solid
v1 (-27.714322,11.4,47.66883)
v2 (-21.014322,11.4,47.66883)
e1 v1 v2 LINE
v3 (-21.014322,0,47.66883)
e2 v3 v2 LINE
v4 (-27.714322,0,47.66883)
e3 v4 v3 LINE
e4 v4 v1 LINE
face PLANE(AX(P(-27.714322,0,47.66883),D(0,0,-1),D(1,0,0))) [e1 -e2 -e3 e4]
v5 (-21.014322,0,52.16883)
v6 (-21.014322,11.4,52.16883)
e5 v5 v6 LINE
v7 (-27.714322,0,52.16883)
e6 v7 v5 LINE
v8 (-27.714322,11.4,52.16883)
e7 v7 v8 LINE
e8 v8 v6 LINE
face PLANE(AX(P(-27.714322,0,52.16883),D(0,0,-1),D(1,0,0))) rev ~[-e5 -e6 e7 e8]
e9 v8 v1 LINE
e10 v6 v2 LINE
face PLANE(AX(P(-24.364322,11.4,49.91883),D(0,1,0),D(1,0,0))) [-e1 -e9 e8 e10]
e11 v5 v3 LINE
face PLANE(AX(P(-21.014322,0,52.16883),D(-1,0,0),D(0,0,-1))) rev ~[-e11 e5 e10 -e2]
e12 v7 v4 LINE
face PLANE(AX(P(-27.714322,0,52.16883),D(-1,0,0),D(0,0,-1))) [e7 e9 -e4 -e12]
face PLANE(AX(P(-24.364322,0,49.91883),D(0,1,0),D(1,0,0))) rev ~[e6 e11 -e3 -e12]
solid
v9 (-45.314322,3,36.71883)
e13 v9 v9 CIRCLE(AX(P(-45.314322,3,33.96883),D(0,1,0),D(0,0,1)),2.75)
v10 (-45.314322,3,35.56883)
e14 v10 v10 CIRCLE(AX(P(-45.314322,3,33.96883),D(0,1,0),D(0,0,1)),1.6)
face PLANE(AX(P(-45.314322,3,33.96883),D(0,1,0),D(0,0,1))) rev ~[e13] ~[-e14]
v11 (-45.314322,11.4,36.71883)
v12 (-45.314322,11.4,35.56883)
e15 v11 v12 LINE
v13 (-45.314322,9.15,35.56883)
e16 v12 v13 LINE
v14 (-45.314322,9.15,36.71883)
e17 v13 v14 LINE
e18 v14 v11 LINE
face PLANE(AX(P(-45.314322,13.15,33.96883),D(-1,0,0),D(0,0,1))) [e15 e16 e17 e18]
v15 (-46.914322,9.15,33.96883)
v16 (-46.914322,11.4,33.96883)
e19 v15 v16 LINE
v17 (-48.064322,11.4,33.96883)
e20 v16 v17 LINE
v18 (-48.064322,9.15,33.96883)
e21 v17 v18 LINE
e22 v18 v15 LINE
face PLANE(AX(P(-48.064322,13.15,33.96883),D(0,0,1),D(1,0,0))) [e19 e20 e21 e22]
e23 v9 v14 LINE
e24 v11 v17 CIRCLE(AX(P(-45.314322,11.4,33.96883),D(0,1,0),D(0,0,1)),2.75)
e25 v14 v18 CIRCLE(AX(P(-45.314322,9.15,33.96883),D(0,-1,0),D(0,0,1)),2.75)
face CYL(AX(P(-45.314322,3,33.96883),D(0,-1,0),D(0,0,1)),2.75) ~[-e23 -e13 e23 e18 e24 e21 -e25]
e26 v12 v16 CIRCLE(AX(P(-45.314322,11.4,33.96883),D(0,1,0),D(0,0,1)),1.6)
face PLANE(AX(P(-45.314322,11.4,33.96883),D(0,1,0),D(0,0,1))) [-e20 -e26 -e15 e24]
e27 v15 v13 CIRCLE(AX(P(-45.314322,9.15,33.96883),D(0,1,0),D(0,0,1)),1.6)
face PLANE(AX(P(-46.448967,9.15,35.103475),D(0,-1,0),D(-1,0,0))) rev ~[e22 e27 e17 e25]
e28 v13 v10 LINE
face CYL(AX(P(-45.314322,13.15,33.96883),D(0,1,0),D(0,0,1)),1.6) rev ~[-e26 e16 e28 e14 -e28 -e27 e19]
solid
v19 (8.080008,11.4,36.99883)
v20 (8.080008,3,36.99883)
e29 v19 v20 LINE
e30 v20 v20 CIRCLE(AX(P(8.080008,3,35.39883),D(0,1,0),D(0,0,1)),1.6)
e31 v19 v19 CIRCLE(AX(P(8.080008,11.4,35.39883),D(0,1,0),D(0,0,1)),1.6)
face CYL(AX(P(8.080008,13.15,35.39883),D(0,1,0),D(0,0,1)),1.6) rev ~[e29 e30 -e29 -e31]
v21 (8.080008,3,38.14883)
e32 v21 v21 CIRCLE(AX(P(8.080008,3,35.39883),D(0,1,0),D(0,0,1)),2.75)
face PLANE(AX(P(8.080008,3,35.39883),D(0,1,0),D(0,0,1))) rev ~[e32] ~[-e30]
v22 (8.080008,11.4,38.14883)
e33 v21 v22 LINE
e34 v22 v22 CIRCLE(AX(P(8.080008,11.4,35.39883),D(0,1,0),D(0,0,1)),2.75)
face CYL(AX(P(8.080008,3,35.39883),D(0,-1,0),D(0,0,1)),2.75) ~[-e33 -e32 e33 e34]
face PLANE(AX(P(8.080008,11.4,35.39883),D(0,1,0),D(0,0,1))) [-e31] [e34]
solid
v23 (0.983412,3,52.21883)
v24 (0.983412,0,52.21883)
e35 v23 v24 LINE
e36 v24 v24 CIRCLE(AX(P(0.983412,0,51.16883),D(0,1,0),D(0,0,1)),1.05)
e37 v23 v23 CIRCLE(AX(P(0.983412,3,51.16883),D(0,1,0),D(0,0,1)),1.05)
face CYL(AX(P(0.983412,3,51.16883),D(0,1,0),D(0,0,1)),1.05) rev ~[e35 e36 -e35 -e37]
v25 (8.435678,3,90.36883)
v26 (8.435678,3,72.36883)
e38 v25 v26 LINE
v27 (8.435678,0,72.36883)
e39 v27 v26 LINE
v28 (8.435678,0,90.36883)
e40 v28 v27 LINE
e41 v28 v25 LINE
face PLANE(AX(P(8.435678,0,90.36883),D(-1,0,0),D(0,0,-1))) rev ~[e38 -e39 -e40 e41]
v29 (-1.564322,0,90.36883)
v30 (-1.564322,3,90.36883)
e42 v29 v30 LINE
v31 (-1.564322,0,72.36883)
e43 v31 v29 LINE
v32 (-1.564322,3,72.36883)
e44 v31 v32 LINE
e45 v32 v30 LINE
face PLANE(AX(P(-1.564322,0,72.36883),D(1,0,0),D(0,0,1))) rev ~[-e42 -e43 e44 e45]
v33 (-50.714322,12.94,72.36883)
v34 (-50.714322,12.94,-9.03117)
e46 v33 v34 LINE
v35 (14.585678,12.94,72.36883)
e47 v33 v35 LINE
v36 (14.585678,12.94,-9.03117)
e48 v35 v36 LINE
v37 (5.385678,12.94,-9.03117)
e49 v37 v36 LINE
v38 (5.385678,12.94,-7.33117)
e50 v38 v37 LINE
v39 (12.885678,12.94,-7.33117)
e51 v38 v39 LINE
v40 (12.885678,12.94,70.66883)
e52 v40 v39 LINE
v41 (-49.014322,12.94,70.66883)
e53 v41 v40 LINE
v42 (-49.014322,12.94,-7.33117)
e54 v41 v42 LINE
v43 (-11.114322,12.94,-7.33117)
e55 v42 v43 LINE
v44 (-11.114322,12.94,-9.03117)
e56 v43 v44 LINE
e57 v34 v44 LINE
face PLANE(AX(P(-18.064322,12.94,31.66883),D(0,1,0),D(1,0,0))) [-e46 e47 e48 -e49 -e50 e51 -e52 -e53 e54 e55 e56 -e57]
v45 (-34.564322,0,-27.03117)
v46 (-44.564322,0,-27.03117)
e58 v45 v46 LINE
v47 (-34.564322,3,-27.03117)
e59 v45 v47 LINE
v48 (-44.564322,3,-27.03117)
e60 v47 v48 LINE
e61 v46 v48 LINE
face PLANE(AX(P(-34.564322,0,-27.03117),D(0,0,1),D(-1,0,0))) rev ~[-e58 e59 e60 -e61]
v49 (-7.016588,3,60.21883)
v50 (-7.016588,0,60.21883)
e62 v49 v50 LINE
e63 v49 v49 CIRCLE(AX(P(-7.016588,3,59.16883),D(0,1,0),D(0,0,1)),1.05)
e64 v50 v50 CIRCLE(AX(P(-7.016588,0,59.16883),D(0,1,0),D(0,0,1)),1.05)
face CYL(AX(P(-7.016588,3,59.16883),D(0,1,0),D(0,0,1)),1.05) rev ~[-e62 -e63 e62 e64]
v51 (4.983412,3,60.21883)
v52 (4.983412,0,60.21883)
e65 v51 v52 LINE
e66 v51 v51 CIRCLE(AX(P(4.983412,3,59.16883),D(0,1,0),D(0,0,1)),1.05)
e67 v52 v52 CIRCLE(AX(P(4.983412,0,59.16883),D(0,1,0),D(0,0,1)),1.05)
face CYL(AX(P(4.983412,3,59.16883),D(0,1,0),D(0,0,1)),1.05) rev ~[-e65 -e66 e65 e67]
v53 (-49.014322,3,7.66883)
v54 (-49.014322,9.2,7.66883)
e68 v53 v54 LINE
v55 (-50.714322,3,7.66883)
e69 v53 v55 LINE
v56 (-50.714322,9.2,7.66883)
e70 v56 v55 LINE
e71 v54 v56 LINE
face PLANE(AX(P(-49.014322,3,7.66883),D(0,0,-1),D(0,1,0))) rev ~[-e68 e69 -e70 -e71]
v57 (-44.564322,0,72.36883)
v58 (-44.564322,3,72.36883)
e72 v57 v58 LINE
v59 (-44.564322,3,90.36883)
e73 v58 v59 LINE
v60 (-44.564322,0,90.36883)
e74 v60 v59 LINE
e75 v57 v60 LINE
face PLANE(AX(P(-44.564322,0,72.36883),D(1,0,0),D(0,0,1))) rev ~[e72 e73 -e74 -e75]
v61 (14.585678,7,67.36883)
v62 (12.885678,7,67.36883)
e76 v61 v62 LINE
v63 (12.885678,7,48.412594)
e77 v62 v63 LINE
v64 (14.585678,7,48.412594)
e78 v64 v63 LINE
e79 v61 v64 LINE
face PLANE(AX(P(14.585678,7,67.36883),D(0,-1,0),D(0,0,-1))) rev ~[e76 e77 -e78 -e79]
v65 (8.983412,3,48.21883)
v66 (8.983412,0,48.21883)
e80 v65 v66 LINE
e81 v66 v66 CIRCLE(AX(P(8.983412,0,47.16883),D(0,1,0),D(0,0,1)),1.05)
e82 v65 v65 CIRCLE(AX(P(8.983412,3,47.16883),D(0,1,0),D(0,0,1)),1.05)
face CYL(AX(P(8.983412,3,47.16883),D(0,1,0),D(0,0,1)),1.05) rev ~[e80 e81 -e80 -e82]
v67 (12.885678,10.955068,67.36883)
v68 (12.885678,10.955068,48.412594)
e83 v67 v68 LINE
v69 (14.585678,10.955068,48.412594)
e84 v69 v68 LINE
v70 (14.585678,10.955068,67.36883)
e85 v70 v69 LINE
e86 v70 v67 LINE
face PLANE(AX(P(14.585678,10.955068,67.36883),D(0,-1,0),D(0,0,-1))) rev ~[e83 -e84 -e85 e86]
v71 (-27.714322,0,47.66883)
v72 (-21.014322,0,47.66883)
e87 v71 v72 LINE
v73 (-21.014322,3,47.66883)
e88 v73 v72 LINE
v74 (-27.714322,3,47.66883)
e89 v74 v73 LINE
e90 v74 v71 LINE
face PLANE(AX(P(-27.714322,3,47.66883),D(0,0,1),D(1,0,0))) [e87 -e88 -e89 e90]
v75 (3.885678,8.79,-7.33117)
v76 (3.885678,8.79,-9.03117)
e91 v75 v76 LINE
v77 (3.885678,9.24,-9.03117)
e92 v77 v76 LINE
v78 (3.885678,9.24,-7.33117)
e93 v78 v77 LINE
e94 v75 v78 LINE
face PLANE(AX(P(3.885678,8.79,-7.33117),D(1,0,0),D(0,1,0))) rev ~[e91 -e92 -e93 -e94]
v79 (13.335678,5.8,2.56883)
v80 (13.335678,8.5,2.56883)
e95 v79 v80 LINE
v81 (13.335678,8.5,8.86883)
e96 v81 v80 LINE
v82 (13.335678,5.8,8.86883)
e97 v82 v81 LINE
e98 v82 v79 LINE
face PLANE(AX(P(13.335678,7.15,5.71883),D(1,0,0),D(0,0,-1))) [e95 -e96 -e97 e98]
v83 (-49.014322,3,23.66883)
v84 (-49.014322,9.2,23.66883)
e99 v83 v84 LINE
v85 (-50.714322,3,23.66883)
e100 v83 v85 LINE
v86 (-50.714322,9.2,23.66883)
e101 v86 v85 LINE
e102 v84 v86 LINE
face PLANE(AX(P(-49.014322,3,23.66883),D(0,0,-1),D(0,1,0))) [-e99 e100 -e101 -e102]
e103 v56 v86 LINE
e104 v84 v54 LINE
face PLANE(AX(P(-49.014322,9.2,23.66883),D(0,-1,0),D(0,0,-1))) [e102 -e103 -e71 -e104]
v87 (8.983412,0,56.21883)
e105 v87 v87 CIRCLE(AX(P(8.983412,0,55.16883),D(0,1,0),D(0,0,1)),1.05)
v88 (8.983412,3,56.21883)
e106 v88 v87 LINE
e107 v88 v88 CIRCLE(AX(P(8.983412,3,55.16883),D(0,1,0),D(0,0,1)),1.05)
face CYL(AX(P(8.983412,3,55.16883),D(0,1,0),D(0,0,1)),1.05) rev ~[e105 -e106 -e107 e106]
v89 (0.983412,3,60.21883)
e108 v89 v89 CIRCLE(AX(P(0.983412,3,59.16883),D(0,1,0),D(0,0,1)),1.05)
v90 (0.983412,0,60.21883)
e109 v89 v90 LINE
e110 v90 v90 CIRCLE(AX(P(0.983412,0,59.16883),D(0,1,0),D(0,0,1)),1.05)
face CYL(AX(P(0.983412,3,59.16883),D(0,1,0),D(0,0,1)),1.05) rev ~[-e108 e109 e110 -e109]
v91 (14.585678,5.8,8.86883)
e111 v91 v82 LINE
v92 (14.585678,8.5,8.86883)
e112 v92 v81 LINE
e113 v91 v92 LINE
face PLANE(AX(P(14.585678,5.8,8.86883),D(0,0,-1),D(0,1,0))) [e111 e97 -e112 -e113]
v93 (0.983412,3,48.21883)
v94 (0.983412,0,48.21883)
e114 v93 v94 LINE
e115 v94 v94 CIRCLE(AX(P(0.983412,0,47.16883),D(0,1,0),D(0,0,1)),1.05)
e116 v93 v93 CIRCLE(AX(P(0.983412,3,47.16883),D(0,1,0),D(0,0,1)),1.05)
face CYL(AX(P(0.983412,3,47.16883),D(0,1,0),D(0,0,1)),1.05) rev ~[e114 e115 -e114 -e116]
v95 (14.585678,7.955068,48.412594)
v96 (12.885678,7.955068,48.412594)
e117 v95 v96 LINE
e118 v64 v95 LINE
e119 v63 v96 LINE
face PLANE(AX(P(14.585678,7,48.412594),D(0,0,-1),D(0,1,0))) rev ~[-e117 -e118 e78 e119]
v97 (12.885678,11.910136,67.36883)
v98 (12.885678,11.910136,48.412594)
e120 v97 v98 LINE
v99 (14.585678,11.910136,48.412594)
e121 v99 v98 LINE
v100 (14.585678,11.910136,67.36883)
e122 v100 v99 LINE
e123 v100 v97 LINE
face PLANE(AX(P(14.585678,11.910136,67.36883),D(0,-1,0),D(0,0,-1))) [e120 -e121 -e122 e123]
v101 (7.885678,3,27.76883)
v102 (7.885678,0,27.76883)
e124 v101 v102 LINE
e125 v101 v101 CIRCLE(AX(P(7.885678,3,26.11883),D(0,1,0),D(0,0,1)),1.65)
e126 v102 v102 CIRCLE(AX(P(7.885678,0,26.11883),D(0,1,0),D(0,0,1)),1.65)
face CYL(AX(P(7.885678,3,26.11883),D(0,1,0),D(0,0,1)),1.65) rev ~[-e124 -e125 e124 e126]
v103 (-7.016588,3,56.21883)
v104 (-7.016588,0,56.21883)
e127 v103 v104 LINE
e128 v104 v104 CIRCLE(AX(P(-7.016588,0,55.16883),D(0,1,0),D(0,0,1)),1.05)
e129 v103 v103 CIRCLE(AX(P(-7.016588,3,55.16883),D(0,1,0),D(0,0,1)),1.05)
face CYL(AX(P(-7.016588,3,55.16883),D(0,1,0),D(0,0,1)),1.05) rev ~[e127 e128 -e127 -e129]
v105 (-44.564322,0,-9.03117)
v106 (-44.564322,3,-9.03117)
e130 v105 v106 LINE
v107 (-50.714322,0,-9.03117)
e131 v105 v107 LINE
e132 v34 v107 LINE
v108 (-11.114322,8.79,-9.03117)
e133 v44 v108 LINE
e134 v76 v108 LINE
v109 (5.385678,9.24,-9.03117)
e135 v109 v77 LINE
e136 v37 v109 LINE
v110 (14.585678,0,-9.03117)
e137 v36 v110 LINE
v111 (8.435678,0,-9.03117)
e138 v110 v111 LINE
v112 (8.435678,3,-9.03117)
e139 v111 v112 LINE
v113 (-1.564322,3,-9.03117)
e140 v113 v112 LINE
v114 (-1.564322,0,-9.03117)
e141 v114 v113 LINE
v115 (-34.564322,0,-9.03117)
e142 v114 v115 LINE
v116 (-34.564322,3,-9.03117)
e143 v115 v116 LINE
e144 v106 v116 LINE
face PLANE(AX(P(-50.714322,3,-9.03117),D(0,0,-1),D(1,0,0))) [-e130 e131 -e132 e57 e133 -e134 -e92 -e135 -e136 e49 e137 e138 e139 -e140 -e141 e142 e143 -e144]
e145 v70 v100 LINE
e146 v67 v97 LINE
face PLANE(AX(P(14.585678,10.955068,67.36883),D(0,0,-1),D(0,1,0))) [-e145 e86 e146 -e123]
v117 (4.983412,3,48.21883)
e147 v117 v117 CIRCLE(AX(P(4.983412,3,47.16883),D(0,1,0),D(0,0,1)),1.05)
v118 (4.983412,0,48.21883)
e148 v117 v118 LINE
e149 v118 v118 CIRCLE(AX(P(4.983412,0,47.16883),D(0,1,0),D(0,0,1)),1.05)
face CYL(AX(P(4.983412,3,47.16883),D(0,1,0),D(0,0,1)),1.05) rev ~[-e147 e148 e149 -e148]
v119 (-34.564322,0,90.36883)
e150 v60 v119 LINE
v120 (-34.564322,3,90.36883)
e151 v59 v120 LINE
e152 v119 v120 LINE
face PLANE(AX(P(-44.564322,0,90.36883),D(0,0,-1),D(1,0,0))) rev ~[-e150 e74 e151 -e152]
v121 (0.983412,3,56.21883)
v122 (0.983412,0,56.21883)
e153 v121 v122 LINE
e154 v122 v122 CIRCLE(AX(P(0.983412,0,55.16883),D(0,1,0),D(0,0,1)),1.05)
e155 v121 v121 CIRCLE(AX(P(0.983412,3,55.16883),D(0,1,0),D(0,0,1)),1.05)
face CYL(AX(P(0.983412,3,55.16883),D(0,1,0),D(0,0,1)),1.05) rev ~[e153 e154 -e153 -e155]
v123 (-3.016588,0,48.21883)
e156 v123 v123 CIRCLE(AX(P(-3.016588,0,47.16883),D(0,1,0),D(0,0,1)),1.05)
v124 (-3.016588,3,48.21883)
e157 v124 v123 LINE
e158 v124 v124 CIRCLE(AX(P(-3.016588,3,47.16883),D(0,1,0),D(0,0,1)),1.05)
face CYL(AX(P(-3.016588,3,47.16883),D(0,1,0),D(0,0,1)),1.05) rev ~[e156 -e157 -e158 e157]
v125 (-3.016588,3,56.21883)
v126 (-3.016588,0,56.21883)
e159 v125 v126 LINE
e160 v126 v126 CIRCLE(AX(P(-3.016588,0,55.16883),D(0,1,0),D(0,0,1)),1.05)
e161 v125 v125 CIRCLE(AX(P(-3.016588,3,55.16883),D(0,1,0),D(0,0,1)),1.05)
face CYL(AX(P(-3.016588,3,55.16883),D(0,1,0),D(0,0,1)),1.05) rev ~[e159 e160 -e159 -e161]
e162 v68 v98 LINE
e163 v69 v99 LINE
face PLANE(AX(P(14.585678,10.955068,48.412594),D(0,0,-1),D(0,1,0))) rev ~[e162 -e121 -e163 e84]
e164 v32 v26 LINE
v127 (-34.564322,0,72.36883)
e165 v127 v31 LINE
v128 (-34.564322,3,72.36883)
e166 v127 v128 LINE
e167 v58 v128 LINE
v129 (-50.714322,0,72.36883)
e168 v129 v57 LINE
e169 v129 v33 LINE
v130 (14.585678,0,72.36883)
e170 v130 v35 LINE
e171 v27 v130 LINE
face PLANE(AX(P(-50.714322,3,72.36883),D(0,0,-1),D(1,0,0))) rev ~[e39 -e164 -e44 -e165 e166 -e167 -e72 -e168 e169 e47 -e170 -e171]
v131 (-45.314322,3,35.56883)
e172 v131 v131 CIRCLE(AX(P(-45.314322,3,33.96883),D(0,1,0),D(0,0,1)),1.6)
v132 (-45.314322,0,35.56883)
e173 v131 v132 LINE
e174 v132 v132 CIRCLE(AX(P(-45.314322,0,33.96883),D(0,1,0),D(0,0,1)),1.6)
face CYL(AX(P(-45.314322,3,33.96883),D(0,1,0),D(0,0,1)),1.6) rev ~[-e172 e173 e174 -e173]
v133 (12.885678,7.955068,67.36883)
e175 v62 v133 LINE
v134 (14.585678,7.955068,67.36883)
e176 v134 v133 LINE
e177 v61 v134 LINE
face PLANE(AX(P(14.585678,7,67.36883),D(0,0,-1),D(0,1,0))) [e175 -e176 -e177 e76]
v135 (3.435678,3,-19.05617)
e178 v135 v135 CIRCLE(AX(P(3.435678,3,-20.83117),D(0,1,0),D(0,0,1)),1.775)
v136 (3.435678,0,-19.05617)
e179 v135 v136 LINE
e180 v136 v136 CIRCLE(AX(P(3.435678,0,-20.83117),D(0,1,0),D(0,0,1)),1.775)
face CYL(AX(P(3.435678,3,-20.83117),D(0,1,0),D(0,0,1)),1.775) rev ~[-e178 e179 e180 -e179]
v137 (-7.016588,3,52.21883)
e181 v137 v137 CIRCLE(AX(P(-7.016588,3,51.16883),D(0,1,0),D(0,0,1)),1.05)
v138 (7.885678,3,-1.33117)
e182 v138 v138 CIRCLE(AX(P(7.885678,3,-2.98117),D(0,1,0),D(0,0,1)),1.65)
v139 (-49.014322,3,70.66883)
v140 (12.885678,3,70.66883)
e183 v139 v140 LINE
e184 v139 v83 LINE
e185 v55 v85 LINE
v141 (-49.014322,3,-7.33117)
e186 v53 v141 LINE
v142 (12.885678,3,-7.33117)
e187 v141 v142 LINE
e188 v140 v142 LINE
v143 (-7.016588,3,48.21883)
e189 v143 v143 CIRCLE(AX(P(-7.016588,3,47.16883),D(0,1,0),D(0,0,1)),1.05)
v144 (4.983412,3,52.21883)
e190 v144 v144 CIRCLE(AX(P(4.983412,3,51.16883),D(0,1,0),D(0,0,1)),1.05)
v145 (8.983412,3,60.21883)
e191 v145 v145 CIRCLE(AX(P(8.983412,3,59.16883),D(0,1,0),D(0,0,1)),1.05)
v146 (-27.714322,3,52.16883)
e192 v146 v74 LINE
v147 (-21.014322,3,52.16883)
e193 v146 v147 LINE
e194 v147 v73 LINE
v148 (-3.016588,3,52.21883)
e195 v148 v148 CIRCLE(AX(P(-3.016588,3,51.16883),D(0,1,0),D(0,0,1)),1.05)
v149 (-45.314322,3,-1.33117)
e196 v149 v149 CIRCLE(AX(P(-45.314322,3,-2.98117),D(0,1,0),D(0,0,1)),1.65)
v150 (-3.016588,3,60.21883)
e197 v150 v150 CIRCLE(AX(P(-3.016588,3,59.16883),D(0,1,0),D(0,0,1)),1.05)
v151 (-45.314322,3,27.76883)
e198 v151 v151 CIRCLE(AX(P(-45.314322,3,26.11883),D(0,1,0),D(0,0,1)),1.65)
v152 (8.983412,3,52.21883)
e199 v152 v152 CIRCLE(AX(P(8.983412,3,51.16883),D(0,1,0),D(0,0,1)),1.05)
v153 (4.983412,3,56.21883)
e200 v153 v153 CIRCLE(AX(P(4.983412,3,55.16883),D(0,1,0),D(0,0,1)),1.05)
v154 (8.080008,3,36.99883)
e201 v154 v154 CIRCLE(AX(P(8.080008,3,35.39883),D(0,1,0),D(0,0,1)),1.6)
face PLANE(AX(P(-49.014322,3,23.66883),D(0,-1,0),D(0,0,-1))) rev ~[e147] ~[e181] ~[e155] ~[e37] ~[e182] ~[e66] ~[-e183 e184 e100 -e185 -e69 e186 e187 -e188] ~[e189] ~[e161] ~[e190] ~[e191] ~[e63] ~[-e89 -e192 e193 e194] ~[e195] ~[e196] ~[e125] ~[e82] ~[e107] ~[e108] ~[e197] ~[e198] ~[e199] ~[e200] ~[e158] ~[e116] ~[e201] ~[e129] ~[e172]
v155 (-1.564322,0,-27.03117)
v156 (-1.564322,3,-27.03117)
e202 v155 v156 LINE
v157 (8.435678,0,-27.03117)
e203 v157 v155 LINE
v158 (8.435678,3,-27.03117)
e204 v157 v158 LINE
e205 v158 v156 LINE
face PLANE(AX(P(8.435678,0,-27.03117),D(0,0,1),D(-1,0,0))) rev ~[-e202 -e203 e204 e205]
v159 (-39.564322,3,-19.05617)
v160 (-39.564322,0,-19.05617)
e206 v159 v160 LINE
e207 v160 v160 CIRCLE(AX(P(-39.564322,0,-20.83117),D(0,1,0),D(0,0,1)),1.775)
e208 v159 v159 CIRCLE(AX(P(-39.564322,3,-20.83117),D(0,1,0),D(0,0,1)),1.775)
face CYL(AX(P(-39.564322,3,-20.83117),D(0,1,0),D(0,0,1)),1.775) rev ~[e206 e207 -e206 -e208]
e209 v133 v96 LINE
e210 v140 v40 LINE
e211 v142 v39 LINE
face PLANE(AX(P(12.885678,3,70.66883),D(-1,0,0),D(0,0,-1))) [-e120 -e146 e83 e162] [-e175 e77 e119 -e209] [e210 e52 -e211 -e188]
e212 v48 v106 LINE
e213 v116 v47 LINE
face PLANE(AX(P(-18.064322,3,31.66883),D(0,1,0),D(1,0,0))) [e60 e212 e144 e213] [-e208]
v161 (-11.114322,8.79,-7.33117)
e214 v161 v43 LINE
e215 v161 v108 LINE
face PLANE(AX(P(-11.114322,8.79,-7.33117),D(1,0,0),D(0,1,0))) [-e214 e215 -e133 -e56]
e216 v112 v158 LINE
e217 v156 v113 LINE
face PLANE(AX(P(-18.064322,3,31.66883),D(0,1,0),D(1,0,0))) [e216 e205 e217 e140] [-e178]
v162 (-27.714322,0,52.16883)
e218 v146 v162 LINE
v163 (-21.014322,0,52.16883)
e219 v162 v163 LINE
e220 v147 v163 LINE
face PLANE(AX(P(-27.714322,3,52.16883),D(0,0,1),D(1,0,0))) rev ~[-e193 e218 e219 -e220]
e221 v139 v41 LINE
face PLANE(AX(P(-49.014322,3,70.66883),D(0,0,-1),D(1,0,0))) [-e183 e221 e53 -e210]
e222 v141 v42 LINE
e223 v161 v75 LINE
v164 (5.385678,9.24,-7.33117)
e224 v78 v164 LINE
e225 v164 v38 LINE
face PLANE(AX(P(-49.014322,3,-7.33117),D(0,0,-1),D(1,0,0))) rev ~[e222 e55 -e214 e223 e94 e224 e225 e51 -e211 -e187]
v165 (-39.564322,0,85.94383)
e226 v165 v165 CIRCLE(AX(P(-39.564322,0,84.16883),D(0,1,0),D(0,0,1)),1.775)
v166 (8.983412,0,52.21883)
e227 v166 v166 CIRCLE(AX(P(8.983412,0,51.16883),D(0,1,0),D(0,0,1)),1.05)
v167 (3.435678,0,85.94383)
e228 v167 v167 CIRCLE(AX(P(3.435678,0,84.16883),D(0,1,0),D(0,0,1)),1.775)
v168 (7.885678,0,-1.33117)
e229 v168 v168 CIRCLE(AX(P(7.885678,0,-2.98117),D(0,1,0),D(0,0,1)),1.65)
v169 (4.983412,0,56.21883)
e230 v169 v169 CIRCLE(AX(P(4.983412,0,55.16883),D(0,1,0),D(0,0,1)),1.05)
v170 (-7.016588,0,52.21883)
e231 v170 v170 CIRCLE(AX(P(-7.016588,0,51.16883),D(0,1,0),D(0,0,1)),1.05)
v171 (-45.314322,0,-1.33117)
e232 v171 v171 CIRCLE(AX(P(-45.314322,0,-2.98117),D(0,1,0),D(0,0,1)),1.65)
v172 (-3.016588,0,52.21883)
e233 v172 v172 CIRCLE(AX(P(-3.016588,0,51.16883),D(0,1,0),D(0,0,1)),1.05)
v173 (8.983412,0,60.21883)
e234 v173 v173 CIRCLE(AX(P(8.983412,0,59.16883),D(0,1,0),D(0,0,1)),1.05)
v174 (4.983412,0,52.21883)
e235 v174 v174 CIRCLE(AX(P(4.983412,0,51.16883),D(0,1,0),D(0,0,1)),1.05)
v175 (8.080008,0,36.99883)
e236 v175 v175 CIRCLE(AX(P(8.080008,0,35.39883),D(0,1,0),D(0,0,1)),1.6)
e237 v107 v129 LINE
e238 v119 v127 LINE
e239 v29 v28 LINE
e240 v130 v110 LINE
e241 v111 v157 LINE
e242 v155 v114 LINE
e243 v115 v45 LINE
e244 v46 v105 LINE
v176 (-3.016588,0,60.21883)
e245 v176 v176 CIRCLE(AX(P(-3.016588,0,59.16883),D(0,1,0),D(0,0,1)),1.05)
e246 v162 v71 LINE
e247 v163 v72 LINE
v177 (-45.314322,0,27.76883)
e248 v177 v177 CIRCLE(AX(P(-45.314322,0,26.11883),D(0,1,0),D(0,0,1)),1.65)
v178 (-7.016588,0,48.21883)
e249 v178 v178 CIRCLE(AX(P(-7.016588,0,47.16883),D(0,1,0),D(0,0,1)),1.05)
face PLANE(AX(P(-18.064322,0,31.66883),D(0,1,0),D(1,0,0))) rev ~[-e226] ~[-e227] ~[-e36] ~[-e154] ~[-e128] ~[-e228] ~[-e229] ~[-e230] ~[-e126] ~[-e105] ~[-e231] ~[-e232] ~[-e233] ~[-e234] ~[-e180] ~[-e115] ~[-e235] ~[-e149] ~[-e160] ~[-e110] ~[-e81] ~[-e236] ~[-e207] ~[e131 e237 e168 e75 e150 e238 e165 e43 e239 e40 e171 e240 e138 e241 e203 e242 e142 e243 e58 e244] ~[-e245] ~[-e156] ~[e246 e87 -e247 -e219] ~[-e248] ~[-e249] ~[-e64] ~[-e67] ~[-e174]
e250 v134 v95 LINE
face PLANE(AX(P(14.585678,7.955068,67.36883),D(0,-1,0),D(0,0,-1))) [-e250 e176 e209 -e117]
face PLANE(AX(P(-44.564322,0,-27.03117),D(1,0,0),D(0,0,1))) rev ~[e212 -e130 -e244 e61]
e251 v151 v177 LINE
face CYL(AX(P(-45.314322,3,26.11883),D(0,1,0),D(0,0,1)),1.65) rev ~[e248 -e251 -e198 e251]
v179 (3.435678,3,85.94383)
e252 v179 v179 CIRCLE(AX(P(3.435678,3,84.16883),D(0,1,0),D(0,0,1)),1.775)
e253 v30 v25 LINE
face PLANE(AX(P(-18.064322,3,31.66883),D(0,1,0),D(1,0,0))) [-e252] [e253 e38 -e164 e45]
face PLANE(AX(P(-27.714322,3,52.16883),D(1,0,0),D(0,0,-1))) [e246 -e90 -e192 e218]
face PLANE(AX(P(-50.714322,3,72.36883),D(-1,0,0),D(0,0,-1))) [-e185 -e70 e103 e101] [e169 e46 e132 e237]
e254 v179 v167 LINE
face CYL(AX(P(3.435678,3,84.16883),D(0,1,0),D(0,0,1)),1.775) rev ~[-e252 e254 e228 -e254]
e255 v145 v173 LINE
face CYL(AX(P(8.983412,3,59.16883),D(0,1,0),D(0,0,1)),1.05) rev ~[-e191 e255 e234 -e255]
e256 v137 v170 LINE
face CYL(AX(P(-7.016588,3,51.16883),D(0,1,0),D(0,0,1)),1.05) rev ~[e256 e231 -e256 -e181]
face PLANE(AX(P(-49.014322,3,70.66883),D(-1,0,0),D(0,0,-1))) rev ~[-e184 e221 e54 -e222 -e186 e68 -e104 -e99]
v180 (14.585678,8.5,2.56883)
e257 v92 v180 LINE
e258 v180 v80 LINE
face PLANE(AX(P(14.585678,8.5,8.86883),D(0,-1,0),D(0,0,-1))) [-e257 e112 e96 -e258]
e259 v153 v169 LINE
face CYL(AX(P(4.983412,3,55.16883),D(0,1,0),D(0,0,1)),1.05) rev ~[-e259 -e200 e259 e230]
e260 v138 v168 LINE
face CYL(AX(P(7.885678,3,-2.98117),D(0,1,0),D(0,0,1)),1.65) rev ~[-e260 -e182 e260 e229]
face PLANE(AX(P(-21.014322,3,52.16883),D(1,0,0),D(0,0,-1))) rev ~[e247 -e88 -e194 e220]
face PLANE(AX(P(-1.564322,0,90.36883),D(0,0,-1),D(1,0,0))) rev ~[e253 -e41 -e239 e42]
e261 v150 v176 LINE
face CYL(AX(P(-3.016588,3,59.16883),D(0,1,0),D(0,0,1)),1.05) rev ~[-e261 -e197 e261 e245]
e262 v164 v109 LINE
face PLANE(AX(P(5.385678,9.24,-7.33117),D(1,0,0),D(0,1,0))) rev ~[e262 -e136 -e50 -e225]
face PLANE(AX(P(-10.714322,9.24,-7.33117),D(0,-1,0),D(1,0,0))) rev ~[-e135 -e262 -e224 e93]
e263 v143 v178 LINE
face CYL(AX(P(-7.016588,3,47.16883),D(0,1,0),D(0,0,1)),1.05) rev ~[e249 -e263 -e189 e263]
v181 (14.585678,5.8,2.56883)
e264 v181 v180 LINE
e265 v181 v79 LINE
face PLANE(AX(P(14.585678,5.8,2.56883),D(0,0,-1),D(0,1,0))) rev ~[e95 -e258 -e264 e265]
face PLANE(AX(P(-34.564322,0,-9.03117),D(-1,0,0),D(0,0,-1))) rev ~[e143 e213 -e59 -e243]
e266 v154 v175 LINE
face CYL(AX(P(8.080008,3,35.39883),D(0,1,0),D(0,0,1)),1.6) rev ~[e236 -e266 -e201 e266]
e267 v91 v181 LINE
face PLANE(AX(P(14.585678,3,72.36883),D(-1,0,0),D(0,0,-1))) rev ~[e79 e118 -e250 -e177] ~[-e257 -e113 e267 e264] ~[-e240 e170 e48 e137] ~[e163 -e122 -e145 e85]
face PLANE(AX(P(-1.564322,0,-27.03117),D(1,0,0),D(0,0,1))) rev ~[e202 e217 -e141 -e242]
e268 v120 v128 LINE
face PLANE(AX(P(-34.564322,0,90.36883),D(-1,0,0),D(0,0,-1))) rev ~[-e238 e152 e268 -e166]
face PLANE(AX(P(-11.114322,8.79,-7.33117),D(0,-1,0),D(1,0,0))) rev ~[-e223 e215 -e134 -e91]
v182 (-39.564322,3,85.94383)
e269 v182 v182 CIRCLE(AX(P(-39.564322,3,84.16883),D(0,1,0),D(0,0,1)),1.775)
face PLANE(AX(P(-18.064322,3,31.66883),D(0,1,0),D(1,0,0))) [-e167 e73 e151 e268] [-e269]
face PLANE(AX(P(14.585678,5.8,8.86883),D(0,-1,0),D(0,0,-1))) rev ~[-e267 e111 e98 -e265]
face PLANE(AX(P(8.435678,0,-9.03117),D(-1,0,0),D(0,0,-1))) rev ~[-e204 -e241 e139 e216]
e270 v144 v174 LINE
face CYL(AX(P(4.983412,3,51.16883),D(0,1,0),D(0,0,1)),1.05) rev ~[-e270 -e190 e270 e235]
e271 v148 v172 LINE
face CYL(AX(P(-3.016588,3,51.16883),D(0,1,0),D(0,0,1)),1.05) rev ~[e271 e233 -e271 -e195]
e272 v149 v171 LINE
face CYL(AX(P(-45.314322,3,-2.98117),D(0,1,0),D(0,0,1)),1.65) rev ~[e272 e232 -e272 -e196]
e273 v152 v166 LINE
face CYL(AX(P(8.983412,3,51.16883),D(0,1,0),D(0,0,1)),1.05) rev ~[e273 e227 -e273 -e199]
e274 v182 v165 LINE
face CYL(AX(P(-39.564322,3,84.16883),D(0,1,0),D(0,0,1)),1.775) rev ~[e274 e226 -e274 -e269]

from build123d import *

# Parameters (mm, degrees)
BOSS_EXTRUDE1_DEPTH      = 3
SKETCH3_W                = 65.3
SKETCH3_H                = 81.4
SKETCH3_W_2              = 61.9
SKETCH3_H_2              = 78
BOSS_EXTRUDE2_DEPTH      = 9.94
SKETCH4_R                = 1.65
SKETCH4_R_2              = 1.6
SKETCH4_W                = 6.7
SKETCH4_H                = 4.5
CUT_EXTRUDE1_DEPTH       = 105.10221696
BOSS_EXTRUDE3_DEPTH      = 10.15
BOSS_EXTRUDE3_DEPTH_BACK = 3
SKETCH5_W                = 6.7
SKETCH5_H                = 4.5
SKETCH6_R                = 2.75
BOSS_EXTRUDE4_DEPTH      = 10.15
BOSS_EXTRUDE4_2_DEPTH    = 10.15
CUT_EXTRUDE2_DEPTH       = 4
SKETCH17_R               = 1.6
CUT_EXTRUDE11_DEPTH      = 105.457601332
SKETCH19_W               = 16
SKETCH19_H               = 6.2
CUT_EXTRUDE12_DEPTH      = 112.285255161
SKETCH20_W               = 15
SKETCH20_H               = 4.15
CUT_EXTRUDE13_DEPTH      = 111.86097131
SKETCH21_R               = 2.75
CUT_EXTRUDE14_DEPTH      = 1.75
SKETCH22_R               = 2.75
CUT_EXTRUDE15_DEPTH      = 1.75
SKETCH23_W               = 6.7
SKETCH23_H               = 4.5
CUT_EXTRUDE16_DEPTH      = 1.75
SKETCH10_R               = 1.05
CUT_EXTRUDE5_DEPTH       = 105.10221696
SKETCH11_W               = 6.3
SKETCH11_H               = 2.7
CUT_EXTRUDE6_DEPTH       = 1.25
SKETCH15_W               = 16.1
SKETCH15_H               = 3.7
CUT_EXTRUDE9_DEPTH       = 111.836257876
SKETCH16_W               = 18.956236151
SKETCH16_H               = 0.955067826
CUT_EXTRUDE10_DEPTH      = 1.7
SKETCH24_R               = 1.775
CUT_EXTRUDE17_DEPTH      = 105.10221696


with BuildPart() as part:
    # Sketch2 → Boss-Extrude1 (new body)
    with BuildSketch(Plane(origin=(0, 0, 0), x_dir=(1, 0, 0), z_dir=(0, 1, 0))):
        Polygon((-34.564322039, -72.368830446), (-1.564322039, -72.368830446), (-1.564322039, -90.368830446), (8.435677961, -90.368830446), (8.435677961, -72.368830446), (14.585677961, -72.368830446), (14.585677961, 9.031169554), (8.435677961, 9.031169554), (8.435677961, 27.031169554), (-1.564322039, 27.031169554), (-1.564322039, 9.031169554), (-34.564322039, 9.031169554), (-34.564322039, 27.031169554), (-44.564322039, 27.031169554), (-44.564322039, 9.031169554), (-50.714322039, 9.031169554), (-50.714322039, -72.368830446), (-44.564322039, -72.368830446), (-44.564322039, -90.368830446), (-34.564322039, -90.368830446), align=None)
    extrude(amount=BOSS_EXTRUDE1_DEPTH)

    # Sketch3 → Boss-Extrude2 (add)
    with BuildSketch(Plane(origin=(0, 3, 0), x_dir=(1, 0, 0), z_dir=(0, 1, 0))):
        with Locations((-18.064322039, -31.668830446)):
            Rectangle(SKETCH3_W, SKETCH3_H)
        with Locations((-18.064322039, -31.668830446)):
            Rectangle(SKETCH3_W_2, SKETCH3_H_2, mode=Mode.SUBTRACT)
    extrude(amount=BOSS_EXTRUDE2_DEPTH)

    # Sketch4 → Cut-Extrude1 (cut, through all)
    with BuildSketch(Plane(origin=(0, 3, 0), x_dir=(1, 0, 0), z_dir=(0, 1, 0))):
        with Locations(Location((-45.314322039, 2.981169554, 0), (0, 0, 270))):
            Circle(SKETCH4_R)
        with Locations(Location((-45.314322039, -26.118830446, 0), (0, 0, 270))):
            Circle(SKETCH4_R)
        with Locations(Location((7.885677961, 2.981169554, 0), (0, 0, 270))):
            Circle(SKETCH4_R)
        with Locations(Location((7.885677961, -26.118830446, 0), (0, 0, 270))):
            Circle(SKETCH4_R)
        with Locations(Location((-45.314322039, -33.968830446, 0), (0, 0, 270))):
            Circle(SKETCH4_R_2)
        with Locations(Location((8.080008321, -35.398830446, 0), (0, 0, 270))):
            Circle(SKETCH4_R_2)
        with Locations((-24.364322039, -49.918830446)):
            Rectangle(SKETCH4_W, SKETCH4_H)
    extrude(amount=-CUT_EXTRUDE1_DEPTH, mode=Mode.SUBTRACT)

    # Sketch19 → Cut-Extrude12 (cut, through all)
    with BuildSketch(Plane(origin=(-49.014322039, 0, 0), x_dir=(0, 0, -1), z_dir=(1, 0, 0))):
        with Locations((-15.668830446, 6.1)):
            Rectangle(SKETCH19_W, SKETCH19_H)
    extrude(amount=-CUT_EXTRUDE12_DEPTH, mode=Mode.SUBTRACT)

    # Sketch20 → Cut-Extrude13 (cut, through all)
    with BuildSketch(Plane.XY.offset(-7.331169554)):
        with Locations((-3.614322039, 10.865)):
            Rectangle(SKETCH20_W, SKETCH20_H)
    extrude(amount=-CUT_EXTRUDE13_DEPTH, mode=Mode.SUBTRACT)

    # Sketch10 → Cut-Extrude5 (cut, through all)
    with BuildSketch(Plane(origin=(0, 3, 0), x_dir=(1, 0, 0), z_dir=(0, 1, 0))):
        with Locations(Location((-7.016588034, -47.168830446, 0), (0, 0, 270))):
            Circle(SKETCH10_R)
        with Locations(Location((-3.016588034, -47.168830446, 0), (0, 0, 270))):
            Circle(SKETCH10_R)
        with Locations(Location((0.983411966, -47.168830446, 0), (0, 0, 270))):
            Circle(SKETCH10_R)
        with Locations(Location((4.983411966, -47.168830446, 0), (0, 0, 270))):
            Circle(SKETCH10_R)
        with Locations(Location((8.983411966, -47.168830446, 0), (0, 0, 270))):
            Circle(SKETCH10_R)
        with Locations(Location((-3.016588034, -51.168830446, 0), (0, 0, 270))):
            Circle(SKETCH10_R)
        with Locations(Location((0.983411966, -51.168830446, 0), (0, 0, 270))):
            Circle(SKETCH10_R)
        with Locations(Location((4.983411966, -51.168830446, 0), (0, 0, 270))):
            Circle(SKETCH10_R)
        with Locations(Location((8.983411966, -51.168830446, 0), (0, 0, 270))):
            Circle(SKETCH10_R)
        with Locations(Location((-3.016588034, -55.168830446, 0), (0, 0, 270))):
            Circle(SKETCH10_R)
        with Locations(Location((0.983411966, -55.168830446, 0), (0, 0, 270))):
            Circle(SKETCH10_R)
        with Locations(Location((4.983411966, -55.168830446, 0), (0, 0, 270))):
            Circle(SKETCH10_R)
        with Locations(Location((8.983411966, -55.168830446, 0), (0, 0, 270))):
            Circle(SKETCH10_R)
        with Locations(Location((-3.016588034, -59.168830446, 0), (0, 0, 270))):
            Circle(SKETCH10_R)
        with Locations(Location((0.983411966, -59.168830446, 0), (0, 0, 270))):
            Circle(SKETCH10_R)
        with Locations(Location((4.983411966, -59.168830446, 0), (0, 0, 270))):
            Circle(SKETCH10_R)
        with Locations(Location((8.983411966, -59.168830446, 0), (0, 0, 270))):
            Circle(SKETCH10_R)
        with Locations(Location((-7.016588034, -51.168830446, 0), (0, 0, 270))):
            Circle(SKETCH10_R)
        with Locations(Location((-7.016588034, -55.168830446, 0), (0, 0, 270))):
            Circle(SKETCH10_R)
        with Locations(Location((-7.016588034, -59.168830446, 0), (0, 0, 270))):
            Circle(SKETCH10_R)
    extrude(amount=-CUT_EXTRUDE5_DEPTH, mode=Mode.SUBTRACT)

    # Sketch11 → Cut-Extrude6 (cut)
    with BuildSketch(Plane(origin=(14.585677961, 0, 0), x_dir=(0, 0, -1), z_dir=(1, 0, 0))):
        with Locations((-5.718830446, 7.15)):
            Rectangle(SKETCH11_W, SKETCH11_H)
    extrude(amount=-CUT_EXTRUDE6_DEPTH, mode=Mode.SUBTRACT)

    # Sketch15 → Cut-Extrude9 (cut, through all)
    with BuildSketch(Plane.XY.offset(-7.331169554)):
        with Locations((-2.664322039, 11.09)):
            Rectangle(SKETCH15_W, SKETCH15_H)
    extrude(amount=-CUT_EXTRUDE9_DEPTH, mode=Mode.SUBTRACT)

    # Sketch16 → Cut-Extrude10 (cut)
    with BuildSketch(Plane(origin=(14.585677961, 0, 0), x_dir=(0, 0, -1), z_dir=(1, 0, 0))):
        with Locations((-57.890712371, 11.432601739)):
            Rectangle(SKETCH16_W, SKETCH16_H)
        with Locations((-57.890712371, 7.477533913)):
            Rectangle(SKETCH16_W, SKETCH16_H)
    extrude(amount=-CUT_EXTRUDE10_DEPTH, mode=Mode.SUBTRACT)

    # Sketch24 → Cut-Extrude17 (cut, through all)
    with BuildSketch(Plane(origin=(0, 3, 0), x_dir=(1, 0, 0), z_dir=(0, 1, 0))):
        with Locations(Location((-39.564322039, 20.831169554, 0), (0, 0, 270))):
            Circle(SKETCH24_R)
        with Locations(Location((3.435677961, 20.831169554, 0), (0, 0, 270))):
            Circle(SKETCH24_R)
        with Locations(Location((3.435677961, -84.168830446, 0), (0, 0, 270))):
            Circle(SKETCH24_R)
        with Locations(Location((-39.564322039, -84.168830446, 0), (0, 0, 270))):
            Circle(SKETCH24_R)
    extrude(amount=-CUT_EXTRUDE17_DEPTH, mode=Mode.SUBTRACT)


with BuildPart() as body_2:
    # Sketch5 → Boss-Extrude3 (new, two sides: drawn at the far end of the back side and taken through both)
    with BuildSketch(Plane(origin=(0, 3, 0), x_dir=(1, 0, 0), z_dir=(0, 1, 0)).offset(-BOSS_EXTRUDE3_DEPTH_BACK)):
        with Locations((-24.364322039, -49.918830446)):
            Rectangle(SKETCH5_W, SKETCH5_H)
    extrude(amount=BOSS_EXTRUDE3_DEPTH + BOSS_EXTRUDE3_DEPTH_BACK)

    # Sketch23 → Cut-Extrude16 (cut)
    with BuildSketch(Plane(origin=(0, 13.15, 0), x_dir=(1, 0, 0), z_dir=(0, 1, 0))):
        with Locations((-24.364322039, -49.918830446)):
            Rectangle(SKETCH23_W, SKETCH23_H)
    extrude(amount=-CUT_EXTRUDE16_DEPTH, mode=Mode.SUBTRACT)


with BuildPart() as body_3:
    # Sketch6 → Boss-Extrude4 (new body)
    with BuildSketch(Plane(origin=(0, 3, 0), x_dir=(1, 0, 0), z_dir=(0, 1, 0))):
        with Locations(Location((-45.314322039, -33.968830446, 0), (0, 0, 270))):
            Circle(SKETCH6_R)
    extrude(amount=BOSS_EXTRUDE4_DEPTH)

    # Sketch7 → Cut-Extrude2 (cut)
    with BuildSketch(Plane(origin=(0, 13.15, 0), x_dir=(1, 0, 0), z_dir=(0, 1, 0))):
        with BuildLine():
            Line((-48.064322039, -33.968830446), (-45.314322039, -33.968830446))
            Line((-45.314322039, -33.968830446), (-45.314322039, -36.718830446))
            ThreePointArc((-45.314322039, -36.718830446), (-47.258865687, -35.913374094), (-48.064322039, -33.968830446))
        make_face()
    extrude(amount=-CUT_EXTRUDE2_DEPTH, mode=Mode.SUBTRACT)


with BuildPart() as body_4:
    # Sketch6 → Boss-Extrude4 2 (new body)
    with BuildSketch(Plane(origin=(0, 3, 0), x_dir=(1, 0, 0), z_dir=(0, 1, 0))):
        with Locations(Location((8.080008321, -35.398830446, 0), (0, 0, 270))):
            Circle(SKETCH6_R)
    extrude(amount=BOSS_EXTRUDE4_2_DEPTH)


with BuildPart() as cut_extrude11_tool:
    # Sketch17 → Cut-Extrude11 (new, through all)
    with BuildSketch(Plane(origin=(0, 13.15, 0), x_dir=(1, 0, 0), z_dir=(0, 1, 0))):
        with Locations(Location((-45.314322039, -33.968830446, 0), (0, 0, 270))):
            Circle(SKETCH17_R)
        with Locations(Location((8.080008321, -35.398830446, 0), (0, 0, 270))):
            Circle(SKETCH17_R)
    extrude(amount=-CUT_EXTRUDE11_DEPTH)


with BuildPart() as body_3_1:
    add(body_3.part)

    # Cut-Extrude11: cut by cut_extrude11_tool
    add(cut_extrude11_tool.part, mode=Mode.SUBTRACT)

    # Sketch21 → Cut-Extrude14 (cut)
    with BuildSketch(Plane(origin=(0, 13.15, 0), x_dir=(1, 0, 0), z_dir=(0, 1, 0))):
        with Locations(Location((-45.314322039, -33.968830446, 0), (0, 0, 270))):
            Circle(SKETCH21_R)
    extrude(amount=-CUT_EXTRUDE14_DEPTH, mode=Mode.SUBTRACT)


with BuildPart() as body_4_1:
    add(body_4.part)

    # Cut-Extrude11: cut by cut_extrude11_tool
    add(cut_extrude11_tool.part, mode=Mode.SUBTRACT)

    # Sketch22 → Cut-Extrude15 (cut)
    with BuildSketch(Plane(origin=(0, 13.15, 0), x_dir=(1, 0, 0), z_dir=(0, 1, 0))):
        with Locations(Location((8.080008321, -35.398830446, 0), (0, 0, 270))):
            Circle(SKETCH22_R)
    extrude(amount=-CUT_EXTRUDE15_DEPTH, mode=Mode.SUBTRACT)


solid = Compound([part.part, body_2.part, body_3_1.part, body_4_1.part])
